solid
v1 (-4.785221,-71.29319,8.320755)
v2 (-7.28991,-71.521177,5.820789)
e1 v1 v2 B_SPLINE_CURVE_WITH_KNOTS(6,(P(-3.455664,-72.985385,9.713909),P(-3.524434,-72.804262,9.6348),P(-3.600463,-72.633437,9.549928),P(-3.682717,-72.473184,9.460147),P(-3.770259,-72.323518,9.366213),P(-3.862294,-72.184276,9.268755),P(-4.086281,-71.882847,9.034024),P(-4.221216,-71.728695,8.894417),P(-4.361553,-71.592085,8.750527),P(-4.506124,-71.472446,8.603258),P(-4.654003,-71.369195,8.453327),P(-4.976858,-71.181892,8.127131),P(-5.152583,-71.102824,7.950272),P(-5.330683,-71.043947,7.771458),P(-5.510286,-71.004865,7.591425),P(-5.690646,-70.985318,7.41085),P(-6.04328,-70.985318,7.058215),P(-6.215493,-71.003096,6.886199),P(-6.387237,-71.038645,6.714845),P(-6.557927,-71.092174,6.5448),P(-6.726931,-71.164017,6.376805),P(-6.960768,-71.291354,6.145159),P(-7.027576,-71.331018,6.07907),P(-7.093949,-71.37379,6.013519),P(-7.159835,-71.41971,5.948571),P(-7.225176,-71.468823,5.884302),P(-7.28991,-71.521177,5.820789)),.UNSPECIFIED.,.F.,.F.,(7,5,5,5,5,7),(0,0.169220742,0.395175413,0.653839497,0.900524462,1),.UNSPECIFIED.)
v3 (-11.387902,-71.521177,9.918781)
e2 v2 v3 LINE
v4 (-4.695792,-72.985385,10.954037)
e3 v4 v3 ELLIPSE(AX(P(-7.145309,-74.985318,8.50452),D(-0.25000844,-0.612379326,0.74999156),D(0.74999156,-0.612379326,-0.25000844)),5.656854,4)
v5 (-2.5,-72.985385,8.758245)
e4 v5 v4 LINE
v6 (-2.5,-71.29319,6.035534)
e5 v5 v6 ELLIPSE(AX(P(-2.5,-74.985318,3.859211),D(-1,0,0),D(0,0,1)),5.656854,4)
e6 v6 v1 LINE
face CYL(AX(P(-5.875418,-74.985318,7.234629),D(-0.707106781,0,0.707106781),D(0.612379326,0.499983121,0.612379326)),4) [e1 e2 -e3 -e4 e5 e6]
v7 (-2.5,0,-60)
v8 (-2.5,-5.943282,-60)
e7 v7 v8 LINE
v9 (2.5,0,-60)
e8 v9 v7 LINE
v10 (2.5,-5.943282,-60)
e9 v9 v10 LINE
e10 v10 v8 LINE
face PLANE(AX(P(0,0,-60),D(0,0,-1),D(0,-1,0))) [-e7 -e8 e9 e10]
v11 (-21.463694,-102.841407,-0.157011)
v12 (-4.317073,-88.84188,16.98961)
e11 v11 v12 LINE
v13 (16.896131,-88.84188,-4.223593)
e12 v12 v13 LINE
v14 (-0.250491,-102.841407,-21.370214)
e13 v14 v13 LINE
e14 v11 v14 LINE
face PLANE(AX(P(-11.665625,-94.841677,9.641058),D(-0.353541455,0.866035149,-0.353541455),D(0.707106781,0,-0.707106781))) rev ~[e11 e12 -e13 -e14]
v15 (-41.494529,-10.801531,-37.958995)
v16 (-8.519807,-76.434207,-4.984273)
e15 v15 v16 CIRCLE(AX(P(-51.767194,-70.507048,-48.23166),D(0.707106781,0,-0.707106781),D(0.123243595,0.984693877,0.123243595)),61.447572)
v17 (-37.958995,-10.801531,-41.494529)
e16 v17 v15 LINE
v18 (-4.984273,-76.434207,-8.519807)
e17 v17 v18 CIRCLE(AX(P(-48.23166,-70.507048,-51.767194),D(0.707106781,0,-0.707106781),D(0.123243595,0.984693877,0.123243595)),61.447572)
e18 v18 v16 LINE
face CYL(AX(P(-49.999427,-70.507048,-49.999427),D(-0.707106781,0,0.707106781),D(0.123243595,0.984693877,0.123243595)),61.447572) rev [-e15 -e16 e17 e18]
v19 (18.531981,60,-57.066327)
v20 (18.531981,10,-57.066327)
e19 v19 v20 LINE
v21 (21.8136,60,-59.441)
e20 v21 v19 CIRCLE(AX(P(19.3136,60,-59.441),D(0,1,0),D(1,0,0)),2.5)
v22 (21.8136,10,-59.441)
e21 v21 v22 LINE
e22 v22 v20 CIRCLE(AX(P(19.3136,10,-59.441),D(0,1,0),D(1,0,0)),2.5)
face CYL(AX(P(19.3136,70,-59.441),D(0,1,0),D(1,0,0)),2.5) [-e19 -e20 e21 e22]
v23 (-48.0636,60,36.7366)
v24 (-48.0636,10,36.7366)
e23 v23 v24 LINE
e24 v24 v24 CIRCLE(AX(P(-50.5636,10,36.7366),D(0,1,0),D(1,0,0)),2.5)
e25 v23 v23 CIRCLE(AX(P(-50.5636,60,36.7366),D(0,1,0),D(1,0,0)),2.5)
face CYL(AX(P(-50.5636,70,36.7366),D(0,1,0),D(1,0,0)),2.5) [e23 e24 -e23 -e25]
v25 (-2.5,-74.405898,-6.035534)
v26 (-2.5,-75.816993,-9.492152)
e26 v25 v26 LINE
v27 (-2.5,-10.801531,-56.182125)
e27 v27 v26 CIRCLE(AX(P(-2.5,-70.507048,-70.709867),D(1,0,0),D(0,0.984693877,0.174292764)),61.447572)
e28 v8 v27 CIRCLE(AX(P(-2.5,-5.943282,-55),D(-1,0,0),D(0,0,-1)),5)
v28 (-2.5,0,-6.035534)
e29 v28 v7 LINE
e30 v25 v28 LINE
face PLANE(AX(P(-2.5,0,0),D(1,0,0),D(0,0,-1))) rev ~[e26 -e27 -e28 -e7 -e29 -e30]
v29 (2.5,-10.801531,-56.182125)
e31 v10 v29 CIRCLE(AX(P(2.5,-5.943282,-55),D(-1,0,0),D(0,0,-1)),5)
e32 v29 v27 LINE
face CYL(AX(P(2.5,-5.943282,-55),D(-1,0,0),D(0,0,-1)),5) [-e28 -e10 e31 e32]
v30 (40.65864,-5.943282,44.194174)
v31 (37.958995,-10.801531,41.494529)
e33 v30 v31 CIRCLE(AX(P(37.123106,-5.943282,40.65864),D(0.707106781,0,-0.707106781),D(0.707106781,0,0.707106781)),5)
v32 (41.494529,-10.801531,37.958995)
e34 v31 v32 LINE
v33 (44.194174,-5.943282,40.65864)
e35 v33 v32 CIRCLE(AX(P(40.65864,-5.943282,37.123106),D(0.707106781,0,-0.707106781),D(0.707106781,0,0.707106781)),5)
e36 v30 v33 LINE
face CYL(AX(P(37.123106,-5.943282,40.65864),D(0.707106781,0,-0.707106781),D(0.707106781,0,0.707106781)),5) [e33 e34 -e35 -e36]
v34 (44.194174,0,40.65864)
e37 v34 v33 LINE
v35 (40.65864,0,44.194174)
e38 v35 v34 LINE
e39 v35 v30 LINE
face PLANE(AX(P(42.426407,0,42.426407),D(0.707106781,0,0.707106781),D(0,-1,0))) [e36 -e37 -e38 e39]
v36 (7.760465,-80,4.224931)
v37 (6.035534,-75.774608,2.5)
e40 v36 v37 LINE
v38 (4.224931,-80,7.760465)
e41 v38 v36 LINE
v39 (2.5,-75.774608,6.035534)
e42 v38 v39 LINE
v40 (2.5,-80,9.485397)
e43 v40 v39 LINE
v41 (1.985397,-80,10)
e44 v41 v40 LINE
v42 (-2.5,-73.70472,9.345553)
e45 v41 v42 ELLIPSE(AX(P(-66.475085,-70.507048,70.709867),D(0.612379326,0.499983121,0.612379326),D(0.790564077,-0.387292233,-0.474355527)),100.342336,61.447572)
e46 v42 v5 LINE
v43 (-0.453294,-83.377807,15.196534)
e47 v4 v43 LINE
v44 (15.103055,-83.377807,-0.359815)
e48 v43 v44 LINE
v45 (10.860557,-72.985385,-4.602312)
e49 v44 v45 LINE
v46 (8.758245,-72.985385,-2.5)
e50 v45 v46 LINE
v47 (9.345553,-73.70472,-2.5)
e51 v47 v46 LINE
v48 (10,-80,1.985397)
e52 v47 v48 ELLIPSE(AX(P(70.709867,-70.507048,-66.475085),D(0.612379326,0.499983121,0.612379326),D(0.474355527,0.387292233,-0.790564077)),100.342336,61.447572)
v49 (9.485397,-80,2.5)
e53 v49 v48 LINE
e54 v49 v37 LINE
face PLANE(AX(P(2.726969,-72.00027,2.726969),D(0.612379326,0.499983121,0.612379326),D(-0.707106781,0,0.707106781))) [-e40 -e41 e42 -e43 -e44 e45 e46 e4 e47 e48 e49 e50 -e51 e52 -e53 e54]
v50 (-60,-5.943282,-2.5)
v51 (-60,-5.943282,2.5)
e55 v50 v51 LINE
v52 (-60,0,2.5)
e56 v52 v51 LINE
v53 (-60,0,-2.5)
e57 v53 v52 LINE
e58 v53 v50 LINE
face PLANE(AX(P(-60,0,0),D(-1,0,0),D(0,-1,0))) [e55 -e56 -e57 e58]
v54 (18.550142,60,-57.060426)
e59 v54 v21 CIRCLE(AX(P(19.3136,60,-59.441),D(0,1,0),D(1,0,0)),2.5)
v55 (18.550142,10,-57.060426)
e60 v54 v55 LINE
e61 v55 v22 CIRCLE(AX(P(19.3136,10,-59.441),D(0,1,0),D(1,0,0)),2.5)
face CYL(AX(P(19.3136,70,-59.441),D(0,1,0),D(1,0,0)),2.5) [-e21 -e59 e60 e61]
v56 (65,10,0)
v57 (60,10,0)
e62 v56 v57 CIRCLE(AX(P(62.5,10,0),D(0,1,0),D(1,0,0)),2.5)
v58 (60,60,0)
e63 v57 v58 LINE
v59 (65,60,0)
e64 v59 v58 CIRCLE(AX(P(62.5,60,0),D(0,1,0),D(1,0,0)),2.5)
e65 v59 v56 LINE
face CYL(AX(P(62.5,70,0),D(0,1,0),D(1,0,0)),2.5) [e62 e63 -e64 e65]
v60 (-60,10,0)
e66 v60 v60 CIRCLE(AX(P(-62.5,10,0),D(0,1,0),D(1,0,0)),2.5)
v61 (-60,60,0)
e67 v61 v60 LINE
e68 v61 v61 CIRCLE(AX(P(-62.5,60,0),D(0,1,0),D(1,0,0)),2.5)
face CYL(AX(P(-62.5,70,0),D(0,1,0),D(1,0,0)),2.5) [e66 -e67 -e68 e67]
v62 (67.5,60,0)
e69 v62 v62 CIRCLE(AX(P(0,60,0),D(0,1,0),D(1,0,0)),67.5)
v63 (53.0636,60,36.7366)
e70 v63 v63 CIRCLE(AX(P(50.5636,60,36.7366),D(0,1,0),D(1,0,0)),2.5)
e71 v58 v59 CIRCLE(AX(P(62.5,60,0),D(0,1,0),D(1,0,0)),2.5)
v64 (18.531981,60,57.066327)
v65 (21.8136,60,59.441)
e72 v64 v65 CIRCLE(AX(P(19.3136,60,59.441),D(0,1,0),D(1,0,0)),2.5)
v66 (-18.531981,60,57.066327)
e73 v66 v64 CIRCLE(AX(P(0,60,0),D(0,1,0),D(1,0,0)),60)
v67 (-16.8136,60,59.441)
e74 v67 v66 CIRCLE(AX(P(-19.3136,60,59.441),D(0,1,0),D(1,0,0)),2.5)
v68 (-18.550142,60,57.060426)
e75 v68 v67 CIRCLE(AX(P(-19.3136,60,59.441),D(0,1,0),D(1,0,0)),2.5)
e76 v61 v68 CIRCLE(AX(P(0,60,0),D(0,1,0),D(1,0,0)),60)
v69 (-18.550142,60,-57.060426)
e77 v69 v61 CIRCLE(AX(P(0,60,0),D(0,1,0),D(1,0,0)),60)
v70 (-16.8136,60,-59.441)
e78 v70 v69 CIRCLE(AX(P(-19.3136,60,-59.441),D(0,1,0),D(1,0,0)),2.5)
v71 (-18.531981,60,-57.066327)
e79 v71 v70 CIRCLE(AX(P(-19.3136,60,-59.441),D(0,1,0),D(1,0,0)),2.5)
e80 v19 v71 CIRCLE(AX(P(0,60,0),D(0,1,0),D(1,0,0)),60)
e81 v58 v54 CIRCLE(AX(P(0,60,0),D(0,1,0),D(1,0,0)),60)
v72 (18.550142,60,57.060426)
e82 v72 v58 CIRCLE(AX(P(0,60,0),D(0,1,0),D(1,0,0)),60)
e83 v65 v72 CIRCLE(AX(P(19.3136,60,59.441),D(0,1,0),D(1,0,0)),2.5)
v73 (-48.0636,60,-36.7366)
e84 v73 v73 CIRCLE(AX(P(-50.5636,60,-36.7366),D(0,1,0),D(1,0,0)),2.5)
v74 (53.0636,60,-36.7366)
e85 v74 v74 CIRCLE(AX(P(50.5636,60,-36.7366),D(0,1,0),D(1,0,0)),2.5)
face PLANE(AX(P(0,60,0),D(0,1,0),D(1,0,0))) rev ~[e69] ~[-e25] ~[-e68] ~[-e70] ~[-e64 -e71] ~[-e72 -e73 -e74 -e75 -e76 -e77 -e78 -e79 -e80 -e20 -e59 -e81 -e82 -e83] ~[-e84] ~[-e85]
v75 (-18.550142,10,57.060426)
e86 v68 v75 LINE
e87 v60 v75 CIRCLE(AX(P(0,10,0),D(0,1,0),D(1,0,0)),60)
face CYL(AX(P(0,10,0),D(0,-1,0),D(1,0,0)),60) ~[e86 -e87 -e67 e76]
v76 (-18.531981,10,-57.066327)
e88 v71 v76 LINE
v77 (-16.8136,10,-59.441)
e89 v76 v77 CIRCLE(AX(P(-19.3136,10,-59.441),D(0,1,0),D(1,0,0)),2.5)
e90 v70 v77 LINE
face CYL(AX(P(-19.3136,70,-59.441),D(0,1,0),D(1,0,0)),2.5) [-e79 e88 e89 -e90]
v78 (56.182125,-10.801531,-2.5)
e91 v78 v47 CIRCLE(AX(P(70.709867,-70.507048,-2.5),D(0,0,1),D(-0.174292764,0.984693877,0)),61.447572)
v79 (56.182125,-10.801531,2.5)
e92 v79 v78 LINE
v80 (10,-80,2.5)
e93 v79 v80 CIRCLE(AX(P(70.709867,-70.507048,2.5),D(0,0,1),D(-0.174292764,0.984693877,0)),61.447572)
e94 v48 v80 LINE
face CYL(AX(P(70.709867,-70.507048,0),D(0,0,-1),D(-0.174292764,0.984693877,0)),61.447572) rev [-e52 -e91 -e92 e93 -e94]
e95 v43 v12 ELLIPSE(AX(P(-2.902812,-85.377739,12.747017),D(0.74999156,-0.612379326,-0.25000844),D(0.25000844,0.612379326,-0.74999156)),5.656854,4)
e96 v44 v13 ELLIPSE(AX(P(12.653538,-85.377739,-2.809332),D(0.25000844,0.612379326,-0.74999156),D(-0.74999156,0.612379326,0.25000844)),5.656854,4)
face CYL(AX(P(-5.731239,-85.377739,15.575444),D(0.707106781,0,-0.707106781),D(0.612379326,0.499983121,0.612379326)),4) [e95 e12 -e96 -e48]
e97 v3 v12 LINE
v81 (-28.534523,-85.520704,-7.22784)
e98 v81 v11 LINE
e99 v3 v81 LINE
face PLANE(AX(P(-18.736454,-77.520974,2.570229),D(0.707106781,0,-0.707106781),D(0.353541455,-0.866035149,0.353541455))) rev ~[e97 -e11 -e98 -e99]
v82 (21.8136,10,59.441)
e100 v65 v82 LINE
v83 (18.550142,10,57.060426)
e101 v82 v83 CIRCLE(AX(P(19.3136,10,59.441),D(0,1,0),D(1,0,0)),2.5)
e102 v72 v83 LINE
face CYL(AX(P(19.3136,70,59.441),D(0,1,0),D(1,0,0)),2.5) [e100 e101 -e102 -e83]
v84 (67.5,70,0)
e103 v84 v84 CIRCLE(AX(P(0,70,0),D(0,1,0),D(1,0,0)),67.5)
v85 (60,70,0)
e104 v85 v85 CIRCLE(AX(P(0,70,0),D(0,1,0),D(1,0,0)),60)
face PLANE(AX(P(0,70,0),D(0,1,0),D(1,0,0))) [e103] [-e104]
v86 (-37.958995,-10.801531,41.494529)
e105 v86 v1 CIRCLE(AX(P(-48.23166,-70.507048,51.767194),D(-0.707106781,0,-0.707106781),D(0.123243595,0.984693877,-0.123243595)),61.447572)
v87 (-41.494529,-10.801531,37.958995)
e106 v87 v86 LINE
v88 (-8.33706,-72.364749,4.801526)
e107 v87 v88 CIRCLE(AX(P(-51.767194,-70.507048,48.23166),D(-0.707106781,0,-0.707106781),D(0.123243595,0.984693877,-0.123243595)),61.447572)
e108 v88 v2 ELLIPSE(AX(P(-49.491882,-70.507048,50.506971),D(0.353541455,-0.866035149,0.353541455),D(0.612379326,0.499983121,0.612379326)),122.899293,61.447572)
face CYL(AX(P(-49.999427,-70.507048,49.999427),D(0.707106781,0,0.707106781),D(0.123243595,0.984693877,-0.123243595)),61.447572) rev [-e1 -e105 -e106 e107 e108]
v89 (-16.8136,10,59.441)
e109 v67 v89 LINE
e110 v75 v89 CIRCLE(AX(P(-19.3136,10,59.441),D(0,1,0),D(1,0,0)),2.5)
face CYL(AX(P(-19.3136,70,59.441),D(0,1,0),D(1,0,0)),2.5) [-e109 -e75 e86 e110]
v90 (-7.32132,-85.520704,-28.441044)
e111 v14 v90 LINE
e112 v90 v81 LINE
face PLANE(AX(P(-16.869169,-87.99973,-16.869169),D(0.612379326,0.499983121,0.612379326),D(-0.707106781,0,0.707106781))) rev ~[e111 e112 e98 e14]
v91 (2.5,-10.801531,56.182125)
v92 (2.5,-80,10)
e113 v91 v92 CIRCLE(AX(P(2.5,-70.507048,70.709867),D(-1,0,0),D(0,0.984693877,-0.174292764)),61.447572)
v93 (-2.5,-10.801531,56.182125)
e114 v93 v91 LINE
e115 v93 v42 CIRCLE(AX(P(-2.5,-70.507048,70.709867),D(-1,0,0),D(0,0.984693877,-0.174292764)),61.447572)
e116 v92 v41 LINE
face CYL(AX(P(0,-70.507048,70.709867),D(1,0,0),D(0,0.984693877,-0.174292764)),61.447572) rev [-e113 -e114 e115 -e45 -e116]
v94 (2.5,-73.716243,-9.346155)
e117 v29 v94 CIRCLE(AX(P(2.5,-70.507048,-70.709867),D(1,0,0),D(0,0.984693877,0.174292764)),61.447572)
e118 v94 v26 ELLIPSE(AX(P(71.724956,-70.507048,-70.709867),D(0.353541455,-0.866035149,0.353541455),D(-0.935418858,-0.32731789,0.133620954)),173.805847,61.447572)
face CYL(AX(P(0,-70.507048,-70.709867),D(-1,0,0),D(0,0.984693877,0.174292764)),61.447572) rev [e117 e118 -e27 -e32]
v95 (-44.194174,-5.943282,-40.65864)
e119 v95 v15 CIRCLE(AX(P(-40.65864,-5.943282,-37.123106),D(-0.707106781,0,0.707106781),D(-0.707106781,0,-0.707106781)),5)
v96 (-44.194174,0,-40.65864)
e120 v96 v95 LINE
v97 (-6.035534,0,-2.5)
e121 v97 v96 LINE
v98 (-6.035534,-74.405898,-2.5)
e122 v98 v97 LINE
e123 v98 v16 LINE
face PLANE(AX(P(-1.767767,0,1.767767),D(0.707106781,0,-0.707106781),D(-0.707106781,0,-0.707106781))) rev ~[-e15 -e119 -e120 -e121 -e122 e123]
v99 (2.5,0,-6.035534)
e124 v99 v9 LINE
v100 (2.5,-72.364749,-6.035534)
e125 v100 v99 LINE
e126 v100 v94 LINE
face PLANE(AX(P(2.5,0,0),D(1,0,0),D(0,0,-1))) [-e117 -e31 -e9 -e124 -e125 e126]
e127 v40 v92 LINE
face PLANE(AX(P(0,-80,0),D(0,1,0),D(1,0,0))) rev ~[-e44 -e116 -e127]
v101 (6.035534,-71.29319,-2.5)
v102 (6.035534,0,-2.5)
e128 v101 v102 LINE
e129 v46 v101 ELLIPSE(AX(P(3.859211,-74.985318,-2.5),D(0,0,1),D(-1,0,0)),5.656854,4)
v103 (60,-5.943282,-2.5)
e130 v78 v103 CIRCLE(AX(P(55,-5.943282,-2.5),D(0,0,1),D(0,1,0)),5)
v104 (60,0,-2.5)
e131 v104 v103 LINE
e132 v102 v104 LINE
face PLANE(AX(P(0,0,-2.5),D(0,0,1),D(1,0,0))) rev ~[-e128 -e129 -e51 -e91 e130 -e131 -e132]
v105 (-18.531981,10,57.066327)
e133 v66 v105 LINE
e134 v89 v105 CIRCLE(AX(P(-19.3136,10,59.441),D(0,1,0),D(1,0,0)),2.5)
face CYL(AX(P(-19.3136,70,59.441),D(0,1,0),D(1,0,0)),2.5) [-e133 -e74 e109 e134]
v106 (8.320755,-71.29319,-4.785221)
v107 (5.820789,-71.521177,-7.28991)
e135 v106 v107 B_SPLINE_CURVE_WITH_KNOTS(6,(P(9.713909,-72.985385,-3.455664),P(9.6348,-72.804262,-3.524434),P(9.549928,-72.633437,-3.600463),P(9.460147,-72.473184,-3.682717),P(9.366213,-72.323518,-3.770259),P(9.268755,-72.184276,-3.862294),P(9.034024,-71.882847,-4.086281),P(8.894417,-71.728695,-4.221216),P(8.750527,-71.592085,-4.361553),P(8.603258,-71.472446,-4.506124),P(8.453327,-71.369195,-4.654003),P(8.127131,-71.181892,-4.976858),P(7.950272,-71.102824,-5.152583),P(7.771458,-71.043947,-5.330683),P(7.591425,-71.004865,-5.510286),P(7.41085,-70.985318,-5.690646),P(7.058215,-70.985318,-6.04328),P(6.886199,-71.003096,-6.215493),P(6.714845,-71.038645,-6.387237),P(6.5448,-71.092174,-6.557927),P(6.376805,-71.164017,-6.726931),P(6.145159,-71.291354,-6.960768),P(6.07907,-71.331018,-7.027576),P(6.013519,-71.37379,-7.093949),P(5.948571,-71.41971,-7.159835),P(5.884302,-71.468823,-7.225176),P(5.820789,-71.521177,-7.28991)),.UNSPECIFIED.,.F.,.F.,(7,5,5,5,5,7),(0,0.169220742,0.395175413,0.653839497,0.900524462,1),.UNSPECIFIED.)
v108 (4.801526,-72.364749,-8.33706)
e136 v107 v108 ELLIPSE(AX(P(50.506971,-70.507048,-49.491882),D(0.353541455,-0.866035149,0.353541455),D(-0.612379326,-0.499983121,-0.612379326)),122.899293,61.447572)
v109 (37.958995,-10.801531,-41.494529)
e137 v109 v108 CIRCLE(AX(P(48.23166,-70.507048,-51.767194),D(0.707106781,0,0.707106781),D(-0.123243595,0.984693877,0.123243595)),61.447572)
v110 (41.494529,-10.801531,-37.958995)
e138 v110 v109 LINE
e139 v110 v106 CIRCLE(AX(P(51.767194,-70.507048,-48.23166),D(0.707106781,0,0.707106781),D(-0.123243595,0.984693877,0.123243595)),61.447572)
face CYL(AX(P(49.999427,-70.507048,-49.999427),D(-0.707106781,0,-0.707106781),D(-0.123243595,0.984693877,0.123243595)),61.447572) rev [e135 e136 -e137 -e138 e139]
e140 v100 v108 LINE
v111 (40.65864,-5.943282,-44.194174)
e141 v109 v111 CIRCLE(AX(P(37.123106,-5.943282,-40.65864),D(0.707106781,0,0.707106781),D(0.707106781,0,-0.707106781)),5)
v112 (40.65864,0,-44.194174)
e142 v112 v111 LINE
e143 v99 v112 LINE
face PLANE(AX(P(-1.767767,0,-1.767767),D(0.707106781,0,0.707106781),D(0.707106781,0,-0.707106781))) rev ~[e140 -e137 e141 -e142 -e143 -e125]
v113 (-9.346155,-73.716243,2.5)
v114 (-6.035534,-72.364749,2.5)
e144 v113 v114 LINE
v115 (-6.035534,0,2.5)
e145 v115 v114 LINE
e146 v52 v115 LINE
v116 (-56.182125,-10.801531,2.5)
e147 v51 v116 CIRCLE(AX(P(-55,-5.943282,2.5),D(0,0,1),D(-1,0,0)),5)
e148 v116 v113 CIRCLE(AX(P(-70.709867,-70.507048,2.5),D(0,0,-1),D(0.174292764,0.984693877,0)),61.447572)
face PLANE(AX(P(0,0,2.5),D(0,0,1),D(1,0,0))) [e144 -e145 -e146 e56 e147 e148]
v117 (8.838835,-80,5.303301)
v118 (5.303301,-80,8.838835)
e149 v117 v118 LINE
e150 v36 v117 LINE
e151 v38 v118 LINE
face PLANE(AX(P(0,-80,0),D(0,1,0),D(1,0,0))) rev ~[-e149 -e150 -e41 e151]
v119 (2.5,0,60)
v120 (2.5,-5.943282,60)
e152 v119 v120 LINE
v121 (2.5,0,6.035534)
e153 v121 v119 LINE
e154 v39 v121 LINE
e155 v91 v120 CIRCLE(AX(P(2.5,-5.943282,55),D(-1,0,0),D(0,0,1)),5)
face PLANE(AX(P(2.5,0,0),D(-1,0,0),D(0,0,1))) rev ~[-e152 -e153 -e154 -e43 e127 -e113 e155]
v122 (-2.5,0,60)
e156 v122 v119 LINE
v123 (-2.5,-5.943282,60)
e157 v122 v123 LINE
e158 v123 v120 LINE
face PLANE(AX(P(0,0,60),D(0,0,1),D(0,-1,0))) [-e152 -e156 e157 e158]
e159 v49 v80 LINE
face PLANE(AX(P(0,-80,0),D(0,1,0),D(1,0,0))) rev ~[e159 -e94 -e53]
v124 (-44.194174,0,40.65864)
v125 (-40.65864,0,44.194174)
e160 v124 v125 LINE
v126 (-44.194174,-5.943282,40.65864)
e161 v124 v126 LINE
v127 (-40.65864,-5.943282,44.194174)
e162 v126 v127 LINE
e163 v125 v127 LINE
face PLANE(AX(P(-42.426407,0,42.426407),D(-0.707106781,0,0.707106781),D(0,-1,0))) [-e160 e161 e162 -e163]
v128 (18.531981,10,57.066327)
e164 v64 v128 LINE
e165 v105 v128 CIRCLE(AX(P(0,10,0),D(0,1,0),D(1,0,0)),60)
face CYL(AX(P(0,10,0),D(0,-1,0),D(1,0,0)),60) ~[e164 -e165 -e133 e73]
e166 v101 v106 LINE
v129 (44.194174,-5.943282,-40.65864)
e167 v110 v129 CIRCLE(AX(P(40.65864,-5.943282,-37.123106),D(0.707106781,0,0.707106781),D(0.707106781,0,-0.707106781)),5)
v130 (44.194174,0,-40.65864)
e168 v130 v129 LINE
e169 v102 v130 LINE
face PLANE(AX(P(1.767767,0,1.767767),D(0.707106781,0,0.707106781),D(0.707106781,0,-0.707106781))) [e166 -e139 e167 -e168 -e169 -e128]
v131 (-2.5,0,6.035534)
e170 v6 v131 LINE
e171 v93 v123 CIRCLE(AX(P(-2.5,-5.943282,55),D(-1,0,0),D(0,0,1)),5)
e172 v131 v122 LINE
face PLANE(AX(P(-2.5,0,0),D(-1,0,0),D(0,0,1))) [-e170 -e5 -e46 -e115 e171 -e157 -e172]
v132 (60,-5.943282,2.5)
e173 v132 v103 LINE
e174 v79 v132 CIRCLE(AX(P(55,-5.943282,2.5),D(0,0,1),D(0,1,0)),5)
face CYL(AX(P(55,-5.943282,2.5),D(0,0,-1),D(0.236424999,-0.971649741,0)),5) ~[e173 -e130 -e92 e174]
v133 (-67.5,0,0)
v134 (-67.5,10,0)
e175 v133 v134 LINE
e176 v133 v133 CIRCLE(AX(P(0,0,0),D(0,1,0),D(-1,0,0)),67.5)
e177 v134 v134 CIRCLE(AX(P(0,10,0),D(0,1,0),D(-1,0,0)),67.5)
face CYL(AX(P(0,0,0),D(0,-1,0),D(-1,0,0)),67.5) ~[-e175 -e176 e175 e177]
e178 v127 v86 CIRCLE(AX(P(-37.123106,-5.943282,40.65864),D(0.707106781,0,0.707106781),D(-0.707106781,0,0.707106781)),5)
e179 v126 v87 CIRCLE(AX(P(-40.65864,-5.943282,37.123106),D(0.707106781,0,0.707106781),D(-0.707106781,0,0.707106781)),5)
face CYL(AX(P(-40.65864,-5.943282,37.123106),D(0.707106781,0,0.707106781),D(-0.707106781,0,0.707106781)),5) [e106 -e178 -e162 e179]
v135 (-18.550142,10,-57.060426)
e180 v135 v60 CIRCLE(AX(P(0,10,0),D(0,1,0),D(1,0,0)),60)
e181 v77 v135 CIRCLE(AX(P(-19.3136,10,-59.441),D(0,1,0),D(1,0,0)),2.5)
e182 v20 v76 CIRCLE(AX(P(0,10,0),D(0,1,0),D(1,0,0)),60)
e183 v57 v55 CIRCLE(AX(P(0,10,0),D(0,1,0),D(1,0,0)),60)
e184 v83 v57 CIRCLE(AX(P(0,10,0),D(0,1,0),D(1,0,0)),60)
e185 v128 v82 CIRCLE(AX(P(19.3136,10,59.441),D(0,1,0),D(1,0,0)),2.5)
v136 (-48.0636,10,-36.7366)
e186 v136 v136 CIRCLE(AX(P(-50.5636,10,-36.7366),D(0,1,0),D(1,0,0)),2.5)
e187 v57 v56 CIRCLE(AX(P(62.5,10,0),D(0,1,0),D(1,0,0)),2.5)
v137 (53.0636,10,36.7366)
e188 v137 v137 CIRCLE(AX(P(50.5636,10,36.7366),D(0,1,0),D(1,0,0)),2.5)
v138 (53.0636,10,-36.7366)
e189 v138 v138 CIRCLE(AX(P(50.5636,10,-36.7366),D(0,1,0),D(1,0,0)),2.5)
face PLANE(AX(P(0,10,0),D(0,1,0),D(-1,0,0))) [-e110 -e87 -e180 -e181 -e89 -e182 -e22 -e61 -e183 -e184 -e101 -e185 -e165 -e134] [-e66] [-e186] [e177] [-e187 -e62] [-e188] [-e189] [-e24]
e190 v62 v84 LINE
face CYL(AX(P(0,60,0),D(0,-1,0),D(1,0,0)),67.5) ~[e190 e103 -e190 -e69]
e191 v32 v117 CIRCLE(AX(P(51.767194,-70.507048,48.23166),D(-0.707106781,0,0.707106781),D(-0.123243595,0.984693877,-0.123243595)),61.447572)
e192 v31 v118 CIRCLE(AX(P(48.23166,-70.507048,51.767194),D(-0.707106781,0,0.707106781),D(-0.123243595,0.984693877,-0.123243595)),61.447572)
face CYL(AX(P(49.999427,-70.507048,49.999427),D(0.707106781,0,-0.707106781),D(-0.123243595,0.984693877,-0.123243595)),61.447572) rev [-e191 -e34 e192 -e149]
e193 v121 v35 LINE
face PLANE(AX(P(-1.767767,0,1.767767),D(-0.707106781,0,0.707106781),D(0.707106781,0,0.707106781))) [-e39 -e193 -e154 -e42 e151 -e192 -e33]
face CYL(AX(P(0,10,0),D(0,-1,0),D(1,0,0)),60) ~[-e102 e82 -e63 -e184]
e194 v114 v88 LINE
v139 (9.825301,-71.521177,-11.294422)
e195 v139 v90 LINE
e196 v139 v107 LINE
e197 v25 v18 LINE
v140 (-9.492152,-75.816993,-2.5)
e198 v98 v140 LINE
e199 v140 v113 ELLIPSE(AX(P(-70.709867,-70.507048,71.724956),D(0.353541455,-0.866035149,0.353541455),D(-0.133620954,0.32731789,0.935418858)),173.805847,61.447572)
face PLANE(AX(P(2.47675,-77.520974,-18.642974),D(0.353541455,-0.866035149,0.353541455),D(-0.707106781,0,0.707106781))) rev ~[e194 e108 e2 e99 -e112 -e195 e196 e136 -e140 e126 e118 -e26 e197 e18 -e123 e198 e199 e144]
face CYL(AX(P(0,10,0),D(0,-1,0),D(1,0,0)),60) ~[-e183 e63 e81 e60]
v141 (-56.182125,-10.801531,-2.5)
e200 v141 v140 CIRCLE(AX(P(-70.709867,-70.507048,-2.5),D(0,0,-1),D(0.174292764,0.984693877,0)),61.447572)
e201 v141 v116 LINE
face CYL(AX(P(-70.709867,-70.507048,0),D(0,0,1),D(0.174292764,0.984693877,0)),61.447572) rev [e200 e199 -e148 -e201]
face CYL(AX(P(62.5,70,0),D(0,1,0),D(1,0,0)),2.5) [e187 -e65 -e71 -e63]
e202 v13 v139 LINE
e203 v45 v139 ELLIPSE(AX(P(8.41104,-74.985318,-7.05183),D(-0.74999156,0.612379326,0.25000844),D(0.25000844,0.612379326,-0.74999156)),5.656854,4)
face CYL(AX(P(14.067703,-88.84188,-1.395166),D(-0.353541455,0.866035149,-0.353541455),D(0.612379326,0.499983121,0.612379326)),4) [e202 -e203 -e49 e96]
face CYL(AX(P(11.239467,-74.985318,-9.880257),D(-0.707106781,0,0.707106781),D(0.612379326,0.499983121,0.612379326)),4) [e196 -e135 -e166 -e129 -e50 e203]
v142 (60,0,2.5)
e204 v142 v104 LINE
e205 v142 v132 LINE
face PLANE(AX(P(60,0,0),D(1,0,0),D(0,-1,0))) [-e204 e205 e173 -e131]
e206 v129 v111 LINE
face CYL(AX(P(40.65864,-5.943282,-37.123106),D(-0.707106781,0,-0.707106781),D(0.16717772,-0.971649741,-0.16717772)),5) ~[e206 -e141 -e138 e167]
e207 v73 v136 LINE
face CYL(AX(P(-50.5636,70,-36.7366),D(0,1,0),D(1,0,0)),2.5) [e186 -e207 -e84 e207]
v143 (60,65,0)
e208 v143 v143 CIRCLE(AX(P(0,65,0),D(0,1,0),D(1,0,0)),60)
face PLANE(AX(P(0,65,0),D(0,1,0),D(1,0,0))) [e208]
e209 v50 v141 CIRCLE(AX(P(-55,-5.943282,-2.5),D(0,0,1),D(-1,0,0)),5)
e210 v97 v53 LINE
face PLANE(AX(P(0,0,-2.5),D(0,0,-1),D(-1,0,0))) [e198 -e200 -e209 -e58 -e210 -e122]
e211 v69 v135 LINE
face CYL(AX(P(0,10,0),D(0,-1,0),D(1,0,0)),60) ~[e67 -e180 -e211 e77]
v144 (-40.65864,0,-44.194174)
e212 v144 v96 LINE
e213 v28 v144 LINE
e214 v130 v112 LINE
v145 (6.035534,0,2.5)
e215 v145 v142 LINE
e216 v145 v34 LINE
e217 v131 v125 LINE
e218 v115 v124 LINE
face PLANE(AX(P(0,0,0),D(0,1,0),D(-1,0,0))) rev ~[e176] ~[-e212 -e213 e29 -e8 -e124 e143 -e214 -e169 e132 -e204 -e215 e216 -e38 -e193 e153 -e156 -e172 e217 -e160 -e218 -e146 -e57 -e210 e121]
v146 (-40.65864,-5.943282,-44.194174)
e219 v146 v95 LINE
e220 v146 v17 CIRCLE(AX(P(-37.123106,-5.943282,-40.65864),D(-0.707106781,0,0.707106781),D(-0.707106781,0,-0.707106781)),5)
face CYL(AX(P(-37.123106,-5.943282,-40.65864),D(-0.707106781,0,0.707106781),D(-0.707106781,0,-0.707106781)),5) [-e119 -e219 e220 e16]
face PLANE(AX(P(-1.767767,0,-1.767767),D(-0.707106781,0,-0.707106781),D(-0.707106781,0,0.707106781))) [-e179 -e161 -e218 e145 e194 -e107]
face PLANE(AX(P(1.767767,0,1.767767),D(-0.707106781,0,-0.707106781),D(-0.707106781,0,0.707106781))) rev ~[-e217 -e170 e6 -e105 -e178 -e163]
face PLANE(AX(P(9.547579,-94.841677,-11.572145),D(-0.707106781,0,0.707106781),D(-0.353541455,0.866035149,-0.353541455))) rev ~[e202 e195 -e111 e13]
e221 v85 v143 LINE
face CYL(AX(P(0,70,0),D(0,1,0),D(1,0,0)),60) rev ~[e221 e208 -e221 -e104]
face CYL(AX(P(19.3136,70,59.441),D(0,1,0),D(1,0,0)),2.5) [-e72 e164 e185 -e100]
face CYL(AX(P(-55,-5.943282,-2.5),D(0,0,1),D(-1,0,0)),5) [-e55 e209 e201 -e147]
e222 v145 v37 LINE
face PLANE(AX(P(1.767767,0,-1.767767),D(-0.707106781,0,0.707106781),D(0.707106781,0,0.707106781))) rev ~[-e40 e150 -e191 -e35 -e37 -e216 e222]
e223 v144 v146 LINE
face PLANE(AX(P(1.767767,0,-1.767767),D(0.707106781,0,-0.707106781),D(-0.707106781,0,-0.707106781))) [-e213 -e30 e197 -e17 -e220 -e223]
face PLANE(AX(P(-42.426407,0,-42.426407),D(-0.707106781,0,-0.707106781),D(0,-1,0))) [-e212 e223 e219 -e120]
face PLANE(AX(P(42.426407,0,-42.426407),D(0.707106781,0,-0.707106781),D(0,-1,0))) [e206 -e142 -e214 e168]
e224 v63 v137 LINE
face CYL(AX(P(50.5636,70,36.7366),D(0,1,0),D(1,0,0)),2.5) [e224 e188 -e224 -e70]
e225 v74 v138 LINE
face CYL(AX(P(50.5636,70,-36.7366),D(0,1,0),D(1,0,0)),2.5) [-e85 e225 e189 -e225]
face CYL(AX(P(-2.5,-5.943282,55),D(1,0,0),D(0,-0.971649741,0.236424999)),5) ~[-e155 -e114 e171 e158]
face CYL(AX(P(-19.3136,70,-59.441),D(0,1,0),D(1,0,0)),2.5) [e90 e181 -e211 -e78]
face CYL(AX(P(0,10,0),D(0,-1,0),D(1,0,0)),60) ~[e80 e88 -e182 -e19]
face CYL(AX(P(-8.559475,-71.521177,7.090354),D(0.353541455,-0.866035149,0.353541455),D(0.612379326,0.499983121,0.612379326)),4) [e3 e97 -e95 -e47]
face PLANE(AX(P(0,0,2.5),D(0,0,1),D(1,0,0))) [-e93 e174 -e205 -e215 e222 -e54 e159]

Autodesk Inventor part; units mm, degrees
ref_plane "YZ Plane" through (0, 0, 0) normal (1, 0, 0) x (0, 1, 0)
ref_plane "XZ Plane" through (0, 0, 0) normal (0, 1, 0) x (-1, 0, 0)
sketch "Sketch1" plane through (0, 0, 0) normal (0, 1, 0) x (-1, 0, 0)
  circle A0 centre (0, 0) radius 67.5
  dimension "d0" = 135
extrude "Extrusion1" add sketch "Sketch1" along normal blind 10
sketch "Sketch2" plane through (0, 10, 0) normal (0, 1, 0) x (1, 0, 0)
  circle A0 centre (0, 0) radius 60
  dimension "d3" = 120
extrude "Extrusion2" add sketch "Sketch2" along normal blind 50
sketch "Sketch4" plane through (0, 60, 0) normal (0, 1, 0) x (1, 0, 0)
  circle A0 centre (0, 0) radius 67.5
  dimension "d7" = 135
extrude "Extrusion3" add sketch "Sketch4" along normal blind 10
sketch "Sketch5" plane through (0, 70, 0) normal (0, 1, 0) x (1, 0, 0)
  circle A0 centre (62.5, 0) radius 2.5
  circle A1 centre (50.5636, 36.7366) radius 2.5
  circle A2 centre (19.3136, 59.441) radius 2.5
  circle A3 centre (-19.3136, 59.441) radius 2.5
  circle A4 centre (-50.5636, 36.7366) radius 2.5
  circle A5 centre (-62.5, 0) radius 2.5
  circle A6 centre (-50.5636, -36.7366) radius 2.5
  circle A7 centre (-19.3136, -59.441) radius 2.5
  circle A8 centre (19.3136, -59.441) radius 2.5
  circle A9 centre (50.5636, -36.7366) radius 2.5
  point P0 (0, 0)
  point P1 (0, 0)
  point P2 (0, 0)
  point P3 (0, 0)
  point P4 (0, 0)
  point P5 (0, 0)
  point P6 (0, 0)
  point P7 (0, 0)
  point P8 (0, 0)
  point P9 (0, 0)
  dimension "d10" = 5
  dimension "d13" = 360
extrude "Extrusion4" add sketch "Sketch5" against normal blind 70
sketch "Sketch6" plane through (0, 0, 0) normal (0, 0, 1) x (1, 0, 0)
  line L0 (0, 0) -> (60, 0)
  line L1 (60, 0) -> (60, -10)
  line L2 (-67.5, 0) -> (67.5, 0) projected
  line L3 (0, 0) -> (0, -80)
  line L4 (0, -80) -> (10, -80)
  arc A0 (60, -10) -> (10, -80) centre (70.7099, -70.5071) ccw
  dimension "d17" = 60
  dimension "d18" = 10
  dimension "d20" = 80
  dimension "d21" = 10
extrude "Extrusion5" add sketch "Sketch6" along normal mid plane 5
pattern_circular "Circular Pattern1" count 8 over 360 about axis through (0, -10, 0) along (0, 1, 0) of "Extrusion5"
ref_plane "Work Plane1" through (-7.0711, -80, -7.0711) normal (0.6124, 0.5, 0.6124) x (-0.7071, 0, 0.7071)
sketch "Sketch7" plane through (-7.0711, -80, -7.0711) normal (0.6124, 0.5, 0.6124) x (-0.7071, 0, 0.7071)
  line L0 (15.0661, 17.1375) -> (-14.9339, 17.1375)
  line L1 (-14.9339, 17.1375) -> (-14.9339, -2.8625)
  line L2 (-14.9339, -2.8625) -> (15.0661, -2.8625)
  line L3 (15.0661, -2.8625) -> (15.0661, 17.1375)
  dimension "d28" = 30
  dimension "d29" = 20
extrude "Extrusion6" add sketch "Sketch7" along normal mid plane 32
fillet "Fillet1" radius 4 5 edges at (15.8102, -78.1812, -5.3095) (8.7391, -86.8415, 8.8327) (-5.403, -78.1812, 15.9037) (-6.8894, -69.521, 10.319) (10.2723, -69.521, -6.8426)
fillet "Fillet2" radius 5 8 edges at (-42.4264, -10, -42.4264) (0, -10, -60) (-60, -10, 0) (42.4264, -10, -42.4264) (-42.4264, -10, 42.4264) (0, -10, 60) (42.4264, -10, 42.4264) (60, -10, 0)
sketch "Sketch8" plane through (0, 70, 0) normal (0, 1, 0) x (1, 0, 0)
  circle A0 centre (0, 0) radius 60
  dimension "d34" = 120
extrude "Extrusion7" cut sketch "Sketch8" against normal blind 5
properties part number "ladosredondo"
